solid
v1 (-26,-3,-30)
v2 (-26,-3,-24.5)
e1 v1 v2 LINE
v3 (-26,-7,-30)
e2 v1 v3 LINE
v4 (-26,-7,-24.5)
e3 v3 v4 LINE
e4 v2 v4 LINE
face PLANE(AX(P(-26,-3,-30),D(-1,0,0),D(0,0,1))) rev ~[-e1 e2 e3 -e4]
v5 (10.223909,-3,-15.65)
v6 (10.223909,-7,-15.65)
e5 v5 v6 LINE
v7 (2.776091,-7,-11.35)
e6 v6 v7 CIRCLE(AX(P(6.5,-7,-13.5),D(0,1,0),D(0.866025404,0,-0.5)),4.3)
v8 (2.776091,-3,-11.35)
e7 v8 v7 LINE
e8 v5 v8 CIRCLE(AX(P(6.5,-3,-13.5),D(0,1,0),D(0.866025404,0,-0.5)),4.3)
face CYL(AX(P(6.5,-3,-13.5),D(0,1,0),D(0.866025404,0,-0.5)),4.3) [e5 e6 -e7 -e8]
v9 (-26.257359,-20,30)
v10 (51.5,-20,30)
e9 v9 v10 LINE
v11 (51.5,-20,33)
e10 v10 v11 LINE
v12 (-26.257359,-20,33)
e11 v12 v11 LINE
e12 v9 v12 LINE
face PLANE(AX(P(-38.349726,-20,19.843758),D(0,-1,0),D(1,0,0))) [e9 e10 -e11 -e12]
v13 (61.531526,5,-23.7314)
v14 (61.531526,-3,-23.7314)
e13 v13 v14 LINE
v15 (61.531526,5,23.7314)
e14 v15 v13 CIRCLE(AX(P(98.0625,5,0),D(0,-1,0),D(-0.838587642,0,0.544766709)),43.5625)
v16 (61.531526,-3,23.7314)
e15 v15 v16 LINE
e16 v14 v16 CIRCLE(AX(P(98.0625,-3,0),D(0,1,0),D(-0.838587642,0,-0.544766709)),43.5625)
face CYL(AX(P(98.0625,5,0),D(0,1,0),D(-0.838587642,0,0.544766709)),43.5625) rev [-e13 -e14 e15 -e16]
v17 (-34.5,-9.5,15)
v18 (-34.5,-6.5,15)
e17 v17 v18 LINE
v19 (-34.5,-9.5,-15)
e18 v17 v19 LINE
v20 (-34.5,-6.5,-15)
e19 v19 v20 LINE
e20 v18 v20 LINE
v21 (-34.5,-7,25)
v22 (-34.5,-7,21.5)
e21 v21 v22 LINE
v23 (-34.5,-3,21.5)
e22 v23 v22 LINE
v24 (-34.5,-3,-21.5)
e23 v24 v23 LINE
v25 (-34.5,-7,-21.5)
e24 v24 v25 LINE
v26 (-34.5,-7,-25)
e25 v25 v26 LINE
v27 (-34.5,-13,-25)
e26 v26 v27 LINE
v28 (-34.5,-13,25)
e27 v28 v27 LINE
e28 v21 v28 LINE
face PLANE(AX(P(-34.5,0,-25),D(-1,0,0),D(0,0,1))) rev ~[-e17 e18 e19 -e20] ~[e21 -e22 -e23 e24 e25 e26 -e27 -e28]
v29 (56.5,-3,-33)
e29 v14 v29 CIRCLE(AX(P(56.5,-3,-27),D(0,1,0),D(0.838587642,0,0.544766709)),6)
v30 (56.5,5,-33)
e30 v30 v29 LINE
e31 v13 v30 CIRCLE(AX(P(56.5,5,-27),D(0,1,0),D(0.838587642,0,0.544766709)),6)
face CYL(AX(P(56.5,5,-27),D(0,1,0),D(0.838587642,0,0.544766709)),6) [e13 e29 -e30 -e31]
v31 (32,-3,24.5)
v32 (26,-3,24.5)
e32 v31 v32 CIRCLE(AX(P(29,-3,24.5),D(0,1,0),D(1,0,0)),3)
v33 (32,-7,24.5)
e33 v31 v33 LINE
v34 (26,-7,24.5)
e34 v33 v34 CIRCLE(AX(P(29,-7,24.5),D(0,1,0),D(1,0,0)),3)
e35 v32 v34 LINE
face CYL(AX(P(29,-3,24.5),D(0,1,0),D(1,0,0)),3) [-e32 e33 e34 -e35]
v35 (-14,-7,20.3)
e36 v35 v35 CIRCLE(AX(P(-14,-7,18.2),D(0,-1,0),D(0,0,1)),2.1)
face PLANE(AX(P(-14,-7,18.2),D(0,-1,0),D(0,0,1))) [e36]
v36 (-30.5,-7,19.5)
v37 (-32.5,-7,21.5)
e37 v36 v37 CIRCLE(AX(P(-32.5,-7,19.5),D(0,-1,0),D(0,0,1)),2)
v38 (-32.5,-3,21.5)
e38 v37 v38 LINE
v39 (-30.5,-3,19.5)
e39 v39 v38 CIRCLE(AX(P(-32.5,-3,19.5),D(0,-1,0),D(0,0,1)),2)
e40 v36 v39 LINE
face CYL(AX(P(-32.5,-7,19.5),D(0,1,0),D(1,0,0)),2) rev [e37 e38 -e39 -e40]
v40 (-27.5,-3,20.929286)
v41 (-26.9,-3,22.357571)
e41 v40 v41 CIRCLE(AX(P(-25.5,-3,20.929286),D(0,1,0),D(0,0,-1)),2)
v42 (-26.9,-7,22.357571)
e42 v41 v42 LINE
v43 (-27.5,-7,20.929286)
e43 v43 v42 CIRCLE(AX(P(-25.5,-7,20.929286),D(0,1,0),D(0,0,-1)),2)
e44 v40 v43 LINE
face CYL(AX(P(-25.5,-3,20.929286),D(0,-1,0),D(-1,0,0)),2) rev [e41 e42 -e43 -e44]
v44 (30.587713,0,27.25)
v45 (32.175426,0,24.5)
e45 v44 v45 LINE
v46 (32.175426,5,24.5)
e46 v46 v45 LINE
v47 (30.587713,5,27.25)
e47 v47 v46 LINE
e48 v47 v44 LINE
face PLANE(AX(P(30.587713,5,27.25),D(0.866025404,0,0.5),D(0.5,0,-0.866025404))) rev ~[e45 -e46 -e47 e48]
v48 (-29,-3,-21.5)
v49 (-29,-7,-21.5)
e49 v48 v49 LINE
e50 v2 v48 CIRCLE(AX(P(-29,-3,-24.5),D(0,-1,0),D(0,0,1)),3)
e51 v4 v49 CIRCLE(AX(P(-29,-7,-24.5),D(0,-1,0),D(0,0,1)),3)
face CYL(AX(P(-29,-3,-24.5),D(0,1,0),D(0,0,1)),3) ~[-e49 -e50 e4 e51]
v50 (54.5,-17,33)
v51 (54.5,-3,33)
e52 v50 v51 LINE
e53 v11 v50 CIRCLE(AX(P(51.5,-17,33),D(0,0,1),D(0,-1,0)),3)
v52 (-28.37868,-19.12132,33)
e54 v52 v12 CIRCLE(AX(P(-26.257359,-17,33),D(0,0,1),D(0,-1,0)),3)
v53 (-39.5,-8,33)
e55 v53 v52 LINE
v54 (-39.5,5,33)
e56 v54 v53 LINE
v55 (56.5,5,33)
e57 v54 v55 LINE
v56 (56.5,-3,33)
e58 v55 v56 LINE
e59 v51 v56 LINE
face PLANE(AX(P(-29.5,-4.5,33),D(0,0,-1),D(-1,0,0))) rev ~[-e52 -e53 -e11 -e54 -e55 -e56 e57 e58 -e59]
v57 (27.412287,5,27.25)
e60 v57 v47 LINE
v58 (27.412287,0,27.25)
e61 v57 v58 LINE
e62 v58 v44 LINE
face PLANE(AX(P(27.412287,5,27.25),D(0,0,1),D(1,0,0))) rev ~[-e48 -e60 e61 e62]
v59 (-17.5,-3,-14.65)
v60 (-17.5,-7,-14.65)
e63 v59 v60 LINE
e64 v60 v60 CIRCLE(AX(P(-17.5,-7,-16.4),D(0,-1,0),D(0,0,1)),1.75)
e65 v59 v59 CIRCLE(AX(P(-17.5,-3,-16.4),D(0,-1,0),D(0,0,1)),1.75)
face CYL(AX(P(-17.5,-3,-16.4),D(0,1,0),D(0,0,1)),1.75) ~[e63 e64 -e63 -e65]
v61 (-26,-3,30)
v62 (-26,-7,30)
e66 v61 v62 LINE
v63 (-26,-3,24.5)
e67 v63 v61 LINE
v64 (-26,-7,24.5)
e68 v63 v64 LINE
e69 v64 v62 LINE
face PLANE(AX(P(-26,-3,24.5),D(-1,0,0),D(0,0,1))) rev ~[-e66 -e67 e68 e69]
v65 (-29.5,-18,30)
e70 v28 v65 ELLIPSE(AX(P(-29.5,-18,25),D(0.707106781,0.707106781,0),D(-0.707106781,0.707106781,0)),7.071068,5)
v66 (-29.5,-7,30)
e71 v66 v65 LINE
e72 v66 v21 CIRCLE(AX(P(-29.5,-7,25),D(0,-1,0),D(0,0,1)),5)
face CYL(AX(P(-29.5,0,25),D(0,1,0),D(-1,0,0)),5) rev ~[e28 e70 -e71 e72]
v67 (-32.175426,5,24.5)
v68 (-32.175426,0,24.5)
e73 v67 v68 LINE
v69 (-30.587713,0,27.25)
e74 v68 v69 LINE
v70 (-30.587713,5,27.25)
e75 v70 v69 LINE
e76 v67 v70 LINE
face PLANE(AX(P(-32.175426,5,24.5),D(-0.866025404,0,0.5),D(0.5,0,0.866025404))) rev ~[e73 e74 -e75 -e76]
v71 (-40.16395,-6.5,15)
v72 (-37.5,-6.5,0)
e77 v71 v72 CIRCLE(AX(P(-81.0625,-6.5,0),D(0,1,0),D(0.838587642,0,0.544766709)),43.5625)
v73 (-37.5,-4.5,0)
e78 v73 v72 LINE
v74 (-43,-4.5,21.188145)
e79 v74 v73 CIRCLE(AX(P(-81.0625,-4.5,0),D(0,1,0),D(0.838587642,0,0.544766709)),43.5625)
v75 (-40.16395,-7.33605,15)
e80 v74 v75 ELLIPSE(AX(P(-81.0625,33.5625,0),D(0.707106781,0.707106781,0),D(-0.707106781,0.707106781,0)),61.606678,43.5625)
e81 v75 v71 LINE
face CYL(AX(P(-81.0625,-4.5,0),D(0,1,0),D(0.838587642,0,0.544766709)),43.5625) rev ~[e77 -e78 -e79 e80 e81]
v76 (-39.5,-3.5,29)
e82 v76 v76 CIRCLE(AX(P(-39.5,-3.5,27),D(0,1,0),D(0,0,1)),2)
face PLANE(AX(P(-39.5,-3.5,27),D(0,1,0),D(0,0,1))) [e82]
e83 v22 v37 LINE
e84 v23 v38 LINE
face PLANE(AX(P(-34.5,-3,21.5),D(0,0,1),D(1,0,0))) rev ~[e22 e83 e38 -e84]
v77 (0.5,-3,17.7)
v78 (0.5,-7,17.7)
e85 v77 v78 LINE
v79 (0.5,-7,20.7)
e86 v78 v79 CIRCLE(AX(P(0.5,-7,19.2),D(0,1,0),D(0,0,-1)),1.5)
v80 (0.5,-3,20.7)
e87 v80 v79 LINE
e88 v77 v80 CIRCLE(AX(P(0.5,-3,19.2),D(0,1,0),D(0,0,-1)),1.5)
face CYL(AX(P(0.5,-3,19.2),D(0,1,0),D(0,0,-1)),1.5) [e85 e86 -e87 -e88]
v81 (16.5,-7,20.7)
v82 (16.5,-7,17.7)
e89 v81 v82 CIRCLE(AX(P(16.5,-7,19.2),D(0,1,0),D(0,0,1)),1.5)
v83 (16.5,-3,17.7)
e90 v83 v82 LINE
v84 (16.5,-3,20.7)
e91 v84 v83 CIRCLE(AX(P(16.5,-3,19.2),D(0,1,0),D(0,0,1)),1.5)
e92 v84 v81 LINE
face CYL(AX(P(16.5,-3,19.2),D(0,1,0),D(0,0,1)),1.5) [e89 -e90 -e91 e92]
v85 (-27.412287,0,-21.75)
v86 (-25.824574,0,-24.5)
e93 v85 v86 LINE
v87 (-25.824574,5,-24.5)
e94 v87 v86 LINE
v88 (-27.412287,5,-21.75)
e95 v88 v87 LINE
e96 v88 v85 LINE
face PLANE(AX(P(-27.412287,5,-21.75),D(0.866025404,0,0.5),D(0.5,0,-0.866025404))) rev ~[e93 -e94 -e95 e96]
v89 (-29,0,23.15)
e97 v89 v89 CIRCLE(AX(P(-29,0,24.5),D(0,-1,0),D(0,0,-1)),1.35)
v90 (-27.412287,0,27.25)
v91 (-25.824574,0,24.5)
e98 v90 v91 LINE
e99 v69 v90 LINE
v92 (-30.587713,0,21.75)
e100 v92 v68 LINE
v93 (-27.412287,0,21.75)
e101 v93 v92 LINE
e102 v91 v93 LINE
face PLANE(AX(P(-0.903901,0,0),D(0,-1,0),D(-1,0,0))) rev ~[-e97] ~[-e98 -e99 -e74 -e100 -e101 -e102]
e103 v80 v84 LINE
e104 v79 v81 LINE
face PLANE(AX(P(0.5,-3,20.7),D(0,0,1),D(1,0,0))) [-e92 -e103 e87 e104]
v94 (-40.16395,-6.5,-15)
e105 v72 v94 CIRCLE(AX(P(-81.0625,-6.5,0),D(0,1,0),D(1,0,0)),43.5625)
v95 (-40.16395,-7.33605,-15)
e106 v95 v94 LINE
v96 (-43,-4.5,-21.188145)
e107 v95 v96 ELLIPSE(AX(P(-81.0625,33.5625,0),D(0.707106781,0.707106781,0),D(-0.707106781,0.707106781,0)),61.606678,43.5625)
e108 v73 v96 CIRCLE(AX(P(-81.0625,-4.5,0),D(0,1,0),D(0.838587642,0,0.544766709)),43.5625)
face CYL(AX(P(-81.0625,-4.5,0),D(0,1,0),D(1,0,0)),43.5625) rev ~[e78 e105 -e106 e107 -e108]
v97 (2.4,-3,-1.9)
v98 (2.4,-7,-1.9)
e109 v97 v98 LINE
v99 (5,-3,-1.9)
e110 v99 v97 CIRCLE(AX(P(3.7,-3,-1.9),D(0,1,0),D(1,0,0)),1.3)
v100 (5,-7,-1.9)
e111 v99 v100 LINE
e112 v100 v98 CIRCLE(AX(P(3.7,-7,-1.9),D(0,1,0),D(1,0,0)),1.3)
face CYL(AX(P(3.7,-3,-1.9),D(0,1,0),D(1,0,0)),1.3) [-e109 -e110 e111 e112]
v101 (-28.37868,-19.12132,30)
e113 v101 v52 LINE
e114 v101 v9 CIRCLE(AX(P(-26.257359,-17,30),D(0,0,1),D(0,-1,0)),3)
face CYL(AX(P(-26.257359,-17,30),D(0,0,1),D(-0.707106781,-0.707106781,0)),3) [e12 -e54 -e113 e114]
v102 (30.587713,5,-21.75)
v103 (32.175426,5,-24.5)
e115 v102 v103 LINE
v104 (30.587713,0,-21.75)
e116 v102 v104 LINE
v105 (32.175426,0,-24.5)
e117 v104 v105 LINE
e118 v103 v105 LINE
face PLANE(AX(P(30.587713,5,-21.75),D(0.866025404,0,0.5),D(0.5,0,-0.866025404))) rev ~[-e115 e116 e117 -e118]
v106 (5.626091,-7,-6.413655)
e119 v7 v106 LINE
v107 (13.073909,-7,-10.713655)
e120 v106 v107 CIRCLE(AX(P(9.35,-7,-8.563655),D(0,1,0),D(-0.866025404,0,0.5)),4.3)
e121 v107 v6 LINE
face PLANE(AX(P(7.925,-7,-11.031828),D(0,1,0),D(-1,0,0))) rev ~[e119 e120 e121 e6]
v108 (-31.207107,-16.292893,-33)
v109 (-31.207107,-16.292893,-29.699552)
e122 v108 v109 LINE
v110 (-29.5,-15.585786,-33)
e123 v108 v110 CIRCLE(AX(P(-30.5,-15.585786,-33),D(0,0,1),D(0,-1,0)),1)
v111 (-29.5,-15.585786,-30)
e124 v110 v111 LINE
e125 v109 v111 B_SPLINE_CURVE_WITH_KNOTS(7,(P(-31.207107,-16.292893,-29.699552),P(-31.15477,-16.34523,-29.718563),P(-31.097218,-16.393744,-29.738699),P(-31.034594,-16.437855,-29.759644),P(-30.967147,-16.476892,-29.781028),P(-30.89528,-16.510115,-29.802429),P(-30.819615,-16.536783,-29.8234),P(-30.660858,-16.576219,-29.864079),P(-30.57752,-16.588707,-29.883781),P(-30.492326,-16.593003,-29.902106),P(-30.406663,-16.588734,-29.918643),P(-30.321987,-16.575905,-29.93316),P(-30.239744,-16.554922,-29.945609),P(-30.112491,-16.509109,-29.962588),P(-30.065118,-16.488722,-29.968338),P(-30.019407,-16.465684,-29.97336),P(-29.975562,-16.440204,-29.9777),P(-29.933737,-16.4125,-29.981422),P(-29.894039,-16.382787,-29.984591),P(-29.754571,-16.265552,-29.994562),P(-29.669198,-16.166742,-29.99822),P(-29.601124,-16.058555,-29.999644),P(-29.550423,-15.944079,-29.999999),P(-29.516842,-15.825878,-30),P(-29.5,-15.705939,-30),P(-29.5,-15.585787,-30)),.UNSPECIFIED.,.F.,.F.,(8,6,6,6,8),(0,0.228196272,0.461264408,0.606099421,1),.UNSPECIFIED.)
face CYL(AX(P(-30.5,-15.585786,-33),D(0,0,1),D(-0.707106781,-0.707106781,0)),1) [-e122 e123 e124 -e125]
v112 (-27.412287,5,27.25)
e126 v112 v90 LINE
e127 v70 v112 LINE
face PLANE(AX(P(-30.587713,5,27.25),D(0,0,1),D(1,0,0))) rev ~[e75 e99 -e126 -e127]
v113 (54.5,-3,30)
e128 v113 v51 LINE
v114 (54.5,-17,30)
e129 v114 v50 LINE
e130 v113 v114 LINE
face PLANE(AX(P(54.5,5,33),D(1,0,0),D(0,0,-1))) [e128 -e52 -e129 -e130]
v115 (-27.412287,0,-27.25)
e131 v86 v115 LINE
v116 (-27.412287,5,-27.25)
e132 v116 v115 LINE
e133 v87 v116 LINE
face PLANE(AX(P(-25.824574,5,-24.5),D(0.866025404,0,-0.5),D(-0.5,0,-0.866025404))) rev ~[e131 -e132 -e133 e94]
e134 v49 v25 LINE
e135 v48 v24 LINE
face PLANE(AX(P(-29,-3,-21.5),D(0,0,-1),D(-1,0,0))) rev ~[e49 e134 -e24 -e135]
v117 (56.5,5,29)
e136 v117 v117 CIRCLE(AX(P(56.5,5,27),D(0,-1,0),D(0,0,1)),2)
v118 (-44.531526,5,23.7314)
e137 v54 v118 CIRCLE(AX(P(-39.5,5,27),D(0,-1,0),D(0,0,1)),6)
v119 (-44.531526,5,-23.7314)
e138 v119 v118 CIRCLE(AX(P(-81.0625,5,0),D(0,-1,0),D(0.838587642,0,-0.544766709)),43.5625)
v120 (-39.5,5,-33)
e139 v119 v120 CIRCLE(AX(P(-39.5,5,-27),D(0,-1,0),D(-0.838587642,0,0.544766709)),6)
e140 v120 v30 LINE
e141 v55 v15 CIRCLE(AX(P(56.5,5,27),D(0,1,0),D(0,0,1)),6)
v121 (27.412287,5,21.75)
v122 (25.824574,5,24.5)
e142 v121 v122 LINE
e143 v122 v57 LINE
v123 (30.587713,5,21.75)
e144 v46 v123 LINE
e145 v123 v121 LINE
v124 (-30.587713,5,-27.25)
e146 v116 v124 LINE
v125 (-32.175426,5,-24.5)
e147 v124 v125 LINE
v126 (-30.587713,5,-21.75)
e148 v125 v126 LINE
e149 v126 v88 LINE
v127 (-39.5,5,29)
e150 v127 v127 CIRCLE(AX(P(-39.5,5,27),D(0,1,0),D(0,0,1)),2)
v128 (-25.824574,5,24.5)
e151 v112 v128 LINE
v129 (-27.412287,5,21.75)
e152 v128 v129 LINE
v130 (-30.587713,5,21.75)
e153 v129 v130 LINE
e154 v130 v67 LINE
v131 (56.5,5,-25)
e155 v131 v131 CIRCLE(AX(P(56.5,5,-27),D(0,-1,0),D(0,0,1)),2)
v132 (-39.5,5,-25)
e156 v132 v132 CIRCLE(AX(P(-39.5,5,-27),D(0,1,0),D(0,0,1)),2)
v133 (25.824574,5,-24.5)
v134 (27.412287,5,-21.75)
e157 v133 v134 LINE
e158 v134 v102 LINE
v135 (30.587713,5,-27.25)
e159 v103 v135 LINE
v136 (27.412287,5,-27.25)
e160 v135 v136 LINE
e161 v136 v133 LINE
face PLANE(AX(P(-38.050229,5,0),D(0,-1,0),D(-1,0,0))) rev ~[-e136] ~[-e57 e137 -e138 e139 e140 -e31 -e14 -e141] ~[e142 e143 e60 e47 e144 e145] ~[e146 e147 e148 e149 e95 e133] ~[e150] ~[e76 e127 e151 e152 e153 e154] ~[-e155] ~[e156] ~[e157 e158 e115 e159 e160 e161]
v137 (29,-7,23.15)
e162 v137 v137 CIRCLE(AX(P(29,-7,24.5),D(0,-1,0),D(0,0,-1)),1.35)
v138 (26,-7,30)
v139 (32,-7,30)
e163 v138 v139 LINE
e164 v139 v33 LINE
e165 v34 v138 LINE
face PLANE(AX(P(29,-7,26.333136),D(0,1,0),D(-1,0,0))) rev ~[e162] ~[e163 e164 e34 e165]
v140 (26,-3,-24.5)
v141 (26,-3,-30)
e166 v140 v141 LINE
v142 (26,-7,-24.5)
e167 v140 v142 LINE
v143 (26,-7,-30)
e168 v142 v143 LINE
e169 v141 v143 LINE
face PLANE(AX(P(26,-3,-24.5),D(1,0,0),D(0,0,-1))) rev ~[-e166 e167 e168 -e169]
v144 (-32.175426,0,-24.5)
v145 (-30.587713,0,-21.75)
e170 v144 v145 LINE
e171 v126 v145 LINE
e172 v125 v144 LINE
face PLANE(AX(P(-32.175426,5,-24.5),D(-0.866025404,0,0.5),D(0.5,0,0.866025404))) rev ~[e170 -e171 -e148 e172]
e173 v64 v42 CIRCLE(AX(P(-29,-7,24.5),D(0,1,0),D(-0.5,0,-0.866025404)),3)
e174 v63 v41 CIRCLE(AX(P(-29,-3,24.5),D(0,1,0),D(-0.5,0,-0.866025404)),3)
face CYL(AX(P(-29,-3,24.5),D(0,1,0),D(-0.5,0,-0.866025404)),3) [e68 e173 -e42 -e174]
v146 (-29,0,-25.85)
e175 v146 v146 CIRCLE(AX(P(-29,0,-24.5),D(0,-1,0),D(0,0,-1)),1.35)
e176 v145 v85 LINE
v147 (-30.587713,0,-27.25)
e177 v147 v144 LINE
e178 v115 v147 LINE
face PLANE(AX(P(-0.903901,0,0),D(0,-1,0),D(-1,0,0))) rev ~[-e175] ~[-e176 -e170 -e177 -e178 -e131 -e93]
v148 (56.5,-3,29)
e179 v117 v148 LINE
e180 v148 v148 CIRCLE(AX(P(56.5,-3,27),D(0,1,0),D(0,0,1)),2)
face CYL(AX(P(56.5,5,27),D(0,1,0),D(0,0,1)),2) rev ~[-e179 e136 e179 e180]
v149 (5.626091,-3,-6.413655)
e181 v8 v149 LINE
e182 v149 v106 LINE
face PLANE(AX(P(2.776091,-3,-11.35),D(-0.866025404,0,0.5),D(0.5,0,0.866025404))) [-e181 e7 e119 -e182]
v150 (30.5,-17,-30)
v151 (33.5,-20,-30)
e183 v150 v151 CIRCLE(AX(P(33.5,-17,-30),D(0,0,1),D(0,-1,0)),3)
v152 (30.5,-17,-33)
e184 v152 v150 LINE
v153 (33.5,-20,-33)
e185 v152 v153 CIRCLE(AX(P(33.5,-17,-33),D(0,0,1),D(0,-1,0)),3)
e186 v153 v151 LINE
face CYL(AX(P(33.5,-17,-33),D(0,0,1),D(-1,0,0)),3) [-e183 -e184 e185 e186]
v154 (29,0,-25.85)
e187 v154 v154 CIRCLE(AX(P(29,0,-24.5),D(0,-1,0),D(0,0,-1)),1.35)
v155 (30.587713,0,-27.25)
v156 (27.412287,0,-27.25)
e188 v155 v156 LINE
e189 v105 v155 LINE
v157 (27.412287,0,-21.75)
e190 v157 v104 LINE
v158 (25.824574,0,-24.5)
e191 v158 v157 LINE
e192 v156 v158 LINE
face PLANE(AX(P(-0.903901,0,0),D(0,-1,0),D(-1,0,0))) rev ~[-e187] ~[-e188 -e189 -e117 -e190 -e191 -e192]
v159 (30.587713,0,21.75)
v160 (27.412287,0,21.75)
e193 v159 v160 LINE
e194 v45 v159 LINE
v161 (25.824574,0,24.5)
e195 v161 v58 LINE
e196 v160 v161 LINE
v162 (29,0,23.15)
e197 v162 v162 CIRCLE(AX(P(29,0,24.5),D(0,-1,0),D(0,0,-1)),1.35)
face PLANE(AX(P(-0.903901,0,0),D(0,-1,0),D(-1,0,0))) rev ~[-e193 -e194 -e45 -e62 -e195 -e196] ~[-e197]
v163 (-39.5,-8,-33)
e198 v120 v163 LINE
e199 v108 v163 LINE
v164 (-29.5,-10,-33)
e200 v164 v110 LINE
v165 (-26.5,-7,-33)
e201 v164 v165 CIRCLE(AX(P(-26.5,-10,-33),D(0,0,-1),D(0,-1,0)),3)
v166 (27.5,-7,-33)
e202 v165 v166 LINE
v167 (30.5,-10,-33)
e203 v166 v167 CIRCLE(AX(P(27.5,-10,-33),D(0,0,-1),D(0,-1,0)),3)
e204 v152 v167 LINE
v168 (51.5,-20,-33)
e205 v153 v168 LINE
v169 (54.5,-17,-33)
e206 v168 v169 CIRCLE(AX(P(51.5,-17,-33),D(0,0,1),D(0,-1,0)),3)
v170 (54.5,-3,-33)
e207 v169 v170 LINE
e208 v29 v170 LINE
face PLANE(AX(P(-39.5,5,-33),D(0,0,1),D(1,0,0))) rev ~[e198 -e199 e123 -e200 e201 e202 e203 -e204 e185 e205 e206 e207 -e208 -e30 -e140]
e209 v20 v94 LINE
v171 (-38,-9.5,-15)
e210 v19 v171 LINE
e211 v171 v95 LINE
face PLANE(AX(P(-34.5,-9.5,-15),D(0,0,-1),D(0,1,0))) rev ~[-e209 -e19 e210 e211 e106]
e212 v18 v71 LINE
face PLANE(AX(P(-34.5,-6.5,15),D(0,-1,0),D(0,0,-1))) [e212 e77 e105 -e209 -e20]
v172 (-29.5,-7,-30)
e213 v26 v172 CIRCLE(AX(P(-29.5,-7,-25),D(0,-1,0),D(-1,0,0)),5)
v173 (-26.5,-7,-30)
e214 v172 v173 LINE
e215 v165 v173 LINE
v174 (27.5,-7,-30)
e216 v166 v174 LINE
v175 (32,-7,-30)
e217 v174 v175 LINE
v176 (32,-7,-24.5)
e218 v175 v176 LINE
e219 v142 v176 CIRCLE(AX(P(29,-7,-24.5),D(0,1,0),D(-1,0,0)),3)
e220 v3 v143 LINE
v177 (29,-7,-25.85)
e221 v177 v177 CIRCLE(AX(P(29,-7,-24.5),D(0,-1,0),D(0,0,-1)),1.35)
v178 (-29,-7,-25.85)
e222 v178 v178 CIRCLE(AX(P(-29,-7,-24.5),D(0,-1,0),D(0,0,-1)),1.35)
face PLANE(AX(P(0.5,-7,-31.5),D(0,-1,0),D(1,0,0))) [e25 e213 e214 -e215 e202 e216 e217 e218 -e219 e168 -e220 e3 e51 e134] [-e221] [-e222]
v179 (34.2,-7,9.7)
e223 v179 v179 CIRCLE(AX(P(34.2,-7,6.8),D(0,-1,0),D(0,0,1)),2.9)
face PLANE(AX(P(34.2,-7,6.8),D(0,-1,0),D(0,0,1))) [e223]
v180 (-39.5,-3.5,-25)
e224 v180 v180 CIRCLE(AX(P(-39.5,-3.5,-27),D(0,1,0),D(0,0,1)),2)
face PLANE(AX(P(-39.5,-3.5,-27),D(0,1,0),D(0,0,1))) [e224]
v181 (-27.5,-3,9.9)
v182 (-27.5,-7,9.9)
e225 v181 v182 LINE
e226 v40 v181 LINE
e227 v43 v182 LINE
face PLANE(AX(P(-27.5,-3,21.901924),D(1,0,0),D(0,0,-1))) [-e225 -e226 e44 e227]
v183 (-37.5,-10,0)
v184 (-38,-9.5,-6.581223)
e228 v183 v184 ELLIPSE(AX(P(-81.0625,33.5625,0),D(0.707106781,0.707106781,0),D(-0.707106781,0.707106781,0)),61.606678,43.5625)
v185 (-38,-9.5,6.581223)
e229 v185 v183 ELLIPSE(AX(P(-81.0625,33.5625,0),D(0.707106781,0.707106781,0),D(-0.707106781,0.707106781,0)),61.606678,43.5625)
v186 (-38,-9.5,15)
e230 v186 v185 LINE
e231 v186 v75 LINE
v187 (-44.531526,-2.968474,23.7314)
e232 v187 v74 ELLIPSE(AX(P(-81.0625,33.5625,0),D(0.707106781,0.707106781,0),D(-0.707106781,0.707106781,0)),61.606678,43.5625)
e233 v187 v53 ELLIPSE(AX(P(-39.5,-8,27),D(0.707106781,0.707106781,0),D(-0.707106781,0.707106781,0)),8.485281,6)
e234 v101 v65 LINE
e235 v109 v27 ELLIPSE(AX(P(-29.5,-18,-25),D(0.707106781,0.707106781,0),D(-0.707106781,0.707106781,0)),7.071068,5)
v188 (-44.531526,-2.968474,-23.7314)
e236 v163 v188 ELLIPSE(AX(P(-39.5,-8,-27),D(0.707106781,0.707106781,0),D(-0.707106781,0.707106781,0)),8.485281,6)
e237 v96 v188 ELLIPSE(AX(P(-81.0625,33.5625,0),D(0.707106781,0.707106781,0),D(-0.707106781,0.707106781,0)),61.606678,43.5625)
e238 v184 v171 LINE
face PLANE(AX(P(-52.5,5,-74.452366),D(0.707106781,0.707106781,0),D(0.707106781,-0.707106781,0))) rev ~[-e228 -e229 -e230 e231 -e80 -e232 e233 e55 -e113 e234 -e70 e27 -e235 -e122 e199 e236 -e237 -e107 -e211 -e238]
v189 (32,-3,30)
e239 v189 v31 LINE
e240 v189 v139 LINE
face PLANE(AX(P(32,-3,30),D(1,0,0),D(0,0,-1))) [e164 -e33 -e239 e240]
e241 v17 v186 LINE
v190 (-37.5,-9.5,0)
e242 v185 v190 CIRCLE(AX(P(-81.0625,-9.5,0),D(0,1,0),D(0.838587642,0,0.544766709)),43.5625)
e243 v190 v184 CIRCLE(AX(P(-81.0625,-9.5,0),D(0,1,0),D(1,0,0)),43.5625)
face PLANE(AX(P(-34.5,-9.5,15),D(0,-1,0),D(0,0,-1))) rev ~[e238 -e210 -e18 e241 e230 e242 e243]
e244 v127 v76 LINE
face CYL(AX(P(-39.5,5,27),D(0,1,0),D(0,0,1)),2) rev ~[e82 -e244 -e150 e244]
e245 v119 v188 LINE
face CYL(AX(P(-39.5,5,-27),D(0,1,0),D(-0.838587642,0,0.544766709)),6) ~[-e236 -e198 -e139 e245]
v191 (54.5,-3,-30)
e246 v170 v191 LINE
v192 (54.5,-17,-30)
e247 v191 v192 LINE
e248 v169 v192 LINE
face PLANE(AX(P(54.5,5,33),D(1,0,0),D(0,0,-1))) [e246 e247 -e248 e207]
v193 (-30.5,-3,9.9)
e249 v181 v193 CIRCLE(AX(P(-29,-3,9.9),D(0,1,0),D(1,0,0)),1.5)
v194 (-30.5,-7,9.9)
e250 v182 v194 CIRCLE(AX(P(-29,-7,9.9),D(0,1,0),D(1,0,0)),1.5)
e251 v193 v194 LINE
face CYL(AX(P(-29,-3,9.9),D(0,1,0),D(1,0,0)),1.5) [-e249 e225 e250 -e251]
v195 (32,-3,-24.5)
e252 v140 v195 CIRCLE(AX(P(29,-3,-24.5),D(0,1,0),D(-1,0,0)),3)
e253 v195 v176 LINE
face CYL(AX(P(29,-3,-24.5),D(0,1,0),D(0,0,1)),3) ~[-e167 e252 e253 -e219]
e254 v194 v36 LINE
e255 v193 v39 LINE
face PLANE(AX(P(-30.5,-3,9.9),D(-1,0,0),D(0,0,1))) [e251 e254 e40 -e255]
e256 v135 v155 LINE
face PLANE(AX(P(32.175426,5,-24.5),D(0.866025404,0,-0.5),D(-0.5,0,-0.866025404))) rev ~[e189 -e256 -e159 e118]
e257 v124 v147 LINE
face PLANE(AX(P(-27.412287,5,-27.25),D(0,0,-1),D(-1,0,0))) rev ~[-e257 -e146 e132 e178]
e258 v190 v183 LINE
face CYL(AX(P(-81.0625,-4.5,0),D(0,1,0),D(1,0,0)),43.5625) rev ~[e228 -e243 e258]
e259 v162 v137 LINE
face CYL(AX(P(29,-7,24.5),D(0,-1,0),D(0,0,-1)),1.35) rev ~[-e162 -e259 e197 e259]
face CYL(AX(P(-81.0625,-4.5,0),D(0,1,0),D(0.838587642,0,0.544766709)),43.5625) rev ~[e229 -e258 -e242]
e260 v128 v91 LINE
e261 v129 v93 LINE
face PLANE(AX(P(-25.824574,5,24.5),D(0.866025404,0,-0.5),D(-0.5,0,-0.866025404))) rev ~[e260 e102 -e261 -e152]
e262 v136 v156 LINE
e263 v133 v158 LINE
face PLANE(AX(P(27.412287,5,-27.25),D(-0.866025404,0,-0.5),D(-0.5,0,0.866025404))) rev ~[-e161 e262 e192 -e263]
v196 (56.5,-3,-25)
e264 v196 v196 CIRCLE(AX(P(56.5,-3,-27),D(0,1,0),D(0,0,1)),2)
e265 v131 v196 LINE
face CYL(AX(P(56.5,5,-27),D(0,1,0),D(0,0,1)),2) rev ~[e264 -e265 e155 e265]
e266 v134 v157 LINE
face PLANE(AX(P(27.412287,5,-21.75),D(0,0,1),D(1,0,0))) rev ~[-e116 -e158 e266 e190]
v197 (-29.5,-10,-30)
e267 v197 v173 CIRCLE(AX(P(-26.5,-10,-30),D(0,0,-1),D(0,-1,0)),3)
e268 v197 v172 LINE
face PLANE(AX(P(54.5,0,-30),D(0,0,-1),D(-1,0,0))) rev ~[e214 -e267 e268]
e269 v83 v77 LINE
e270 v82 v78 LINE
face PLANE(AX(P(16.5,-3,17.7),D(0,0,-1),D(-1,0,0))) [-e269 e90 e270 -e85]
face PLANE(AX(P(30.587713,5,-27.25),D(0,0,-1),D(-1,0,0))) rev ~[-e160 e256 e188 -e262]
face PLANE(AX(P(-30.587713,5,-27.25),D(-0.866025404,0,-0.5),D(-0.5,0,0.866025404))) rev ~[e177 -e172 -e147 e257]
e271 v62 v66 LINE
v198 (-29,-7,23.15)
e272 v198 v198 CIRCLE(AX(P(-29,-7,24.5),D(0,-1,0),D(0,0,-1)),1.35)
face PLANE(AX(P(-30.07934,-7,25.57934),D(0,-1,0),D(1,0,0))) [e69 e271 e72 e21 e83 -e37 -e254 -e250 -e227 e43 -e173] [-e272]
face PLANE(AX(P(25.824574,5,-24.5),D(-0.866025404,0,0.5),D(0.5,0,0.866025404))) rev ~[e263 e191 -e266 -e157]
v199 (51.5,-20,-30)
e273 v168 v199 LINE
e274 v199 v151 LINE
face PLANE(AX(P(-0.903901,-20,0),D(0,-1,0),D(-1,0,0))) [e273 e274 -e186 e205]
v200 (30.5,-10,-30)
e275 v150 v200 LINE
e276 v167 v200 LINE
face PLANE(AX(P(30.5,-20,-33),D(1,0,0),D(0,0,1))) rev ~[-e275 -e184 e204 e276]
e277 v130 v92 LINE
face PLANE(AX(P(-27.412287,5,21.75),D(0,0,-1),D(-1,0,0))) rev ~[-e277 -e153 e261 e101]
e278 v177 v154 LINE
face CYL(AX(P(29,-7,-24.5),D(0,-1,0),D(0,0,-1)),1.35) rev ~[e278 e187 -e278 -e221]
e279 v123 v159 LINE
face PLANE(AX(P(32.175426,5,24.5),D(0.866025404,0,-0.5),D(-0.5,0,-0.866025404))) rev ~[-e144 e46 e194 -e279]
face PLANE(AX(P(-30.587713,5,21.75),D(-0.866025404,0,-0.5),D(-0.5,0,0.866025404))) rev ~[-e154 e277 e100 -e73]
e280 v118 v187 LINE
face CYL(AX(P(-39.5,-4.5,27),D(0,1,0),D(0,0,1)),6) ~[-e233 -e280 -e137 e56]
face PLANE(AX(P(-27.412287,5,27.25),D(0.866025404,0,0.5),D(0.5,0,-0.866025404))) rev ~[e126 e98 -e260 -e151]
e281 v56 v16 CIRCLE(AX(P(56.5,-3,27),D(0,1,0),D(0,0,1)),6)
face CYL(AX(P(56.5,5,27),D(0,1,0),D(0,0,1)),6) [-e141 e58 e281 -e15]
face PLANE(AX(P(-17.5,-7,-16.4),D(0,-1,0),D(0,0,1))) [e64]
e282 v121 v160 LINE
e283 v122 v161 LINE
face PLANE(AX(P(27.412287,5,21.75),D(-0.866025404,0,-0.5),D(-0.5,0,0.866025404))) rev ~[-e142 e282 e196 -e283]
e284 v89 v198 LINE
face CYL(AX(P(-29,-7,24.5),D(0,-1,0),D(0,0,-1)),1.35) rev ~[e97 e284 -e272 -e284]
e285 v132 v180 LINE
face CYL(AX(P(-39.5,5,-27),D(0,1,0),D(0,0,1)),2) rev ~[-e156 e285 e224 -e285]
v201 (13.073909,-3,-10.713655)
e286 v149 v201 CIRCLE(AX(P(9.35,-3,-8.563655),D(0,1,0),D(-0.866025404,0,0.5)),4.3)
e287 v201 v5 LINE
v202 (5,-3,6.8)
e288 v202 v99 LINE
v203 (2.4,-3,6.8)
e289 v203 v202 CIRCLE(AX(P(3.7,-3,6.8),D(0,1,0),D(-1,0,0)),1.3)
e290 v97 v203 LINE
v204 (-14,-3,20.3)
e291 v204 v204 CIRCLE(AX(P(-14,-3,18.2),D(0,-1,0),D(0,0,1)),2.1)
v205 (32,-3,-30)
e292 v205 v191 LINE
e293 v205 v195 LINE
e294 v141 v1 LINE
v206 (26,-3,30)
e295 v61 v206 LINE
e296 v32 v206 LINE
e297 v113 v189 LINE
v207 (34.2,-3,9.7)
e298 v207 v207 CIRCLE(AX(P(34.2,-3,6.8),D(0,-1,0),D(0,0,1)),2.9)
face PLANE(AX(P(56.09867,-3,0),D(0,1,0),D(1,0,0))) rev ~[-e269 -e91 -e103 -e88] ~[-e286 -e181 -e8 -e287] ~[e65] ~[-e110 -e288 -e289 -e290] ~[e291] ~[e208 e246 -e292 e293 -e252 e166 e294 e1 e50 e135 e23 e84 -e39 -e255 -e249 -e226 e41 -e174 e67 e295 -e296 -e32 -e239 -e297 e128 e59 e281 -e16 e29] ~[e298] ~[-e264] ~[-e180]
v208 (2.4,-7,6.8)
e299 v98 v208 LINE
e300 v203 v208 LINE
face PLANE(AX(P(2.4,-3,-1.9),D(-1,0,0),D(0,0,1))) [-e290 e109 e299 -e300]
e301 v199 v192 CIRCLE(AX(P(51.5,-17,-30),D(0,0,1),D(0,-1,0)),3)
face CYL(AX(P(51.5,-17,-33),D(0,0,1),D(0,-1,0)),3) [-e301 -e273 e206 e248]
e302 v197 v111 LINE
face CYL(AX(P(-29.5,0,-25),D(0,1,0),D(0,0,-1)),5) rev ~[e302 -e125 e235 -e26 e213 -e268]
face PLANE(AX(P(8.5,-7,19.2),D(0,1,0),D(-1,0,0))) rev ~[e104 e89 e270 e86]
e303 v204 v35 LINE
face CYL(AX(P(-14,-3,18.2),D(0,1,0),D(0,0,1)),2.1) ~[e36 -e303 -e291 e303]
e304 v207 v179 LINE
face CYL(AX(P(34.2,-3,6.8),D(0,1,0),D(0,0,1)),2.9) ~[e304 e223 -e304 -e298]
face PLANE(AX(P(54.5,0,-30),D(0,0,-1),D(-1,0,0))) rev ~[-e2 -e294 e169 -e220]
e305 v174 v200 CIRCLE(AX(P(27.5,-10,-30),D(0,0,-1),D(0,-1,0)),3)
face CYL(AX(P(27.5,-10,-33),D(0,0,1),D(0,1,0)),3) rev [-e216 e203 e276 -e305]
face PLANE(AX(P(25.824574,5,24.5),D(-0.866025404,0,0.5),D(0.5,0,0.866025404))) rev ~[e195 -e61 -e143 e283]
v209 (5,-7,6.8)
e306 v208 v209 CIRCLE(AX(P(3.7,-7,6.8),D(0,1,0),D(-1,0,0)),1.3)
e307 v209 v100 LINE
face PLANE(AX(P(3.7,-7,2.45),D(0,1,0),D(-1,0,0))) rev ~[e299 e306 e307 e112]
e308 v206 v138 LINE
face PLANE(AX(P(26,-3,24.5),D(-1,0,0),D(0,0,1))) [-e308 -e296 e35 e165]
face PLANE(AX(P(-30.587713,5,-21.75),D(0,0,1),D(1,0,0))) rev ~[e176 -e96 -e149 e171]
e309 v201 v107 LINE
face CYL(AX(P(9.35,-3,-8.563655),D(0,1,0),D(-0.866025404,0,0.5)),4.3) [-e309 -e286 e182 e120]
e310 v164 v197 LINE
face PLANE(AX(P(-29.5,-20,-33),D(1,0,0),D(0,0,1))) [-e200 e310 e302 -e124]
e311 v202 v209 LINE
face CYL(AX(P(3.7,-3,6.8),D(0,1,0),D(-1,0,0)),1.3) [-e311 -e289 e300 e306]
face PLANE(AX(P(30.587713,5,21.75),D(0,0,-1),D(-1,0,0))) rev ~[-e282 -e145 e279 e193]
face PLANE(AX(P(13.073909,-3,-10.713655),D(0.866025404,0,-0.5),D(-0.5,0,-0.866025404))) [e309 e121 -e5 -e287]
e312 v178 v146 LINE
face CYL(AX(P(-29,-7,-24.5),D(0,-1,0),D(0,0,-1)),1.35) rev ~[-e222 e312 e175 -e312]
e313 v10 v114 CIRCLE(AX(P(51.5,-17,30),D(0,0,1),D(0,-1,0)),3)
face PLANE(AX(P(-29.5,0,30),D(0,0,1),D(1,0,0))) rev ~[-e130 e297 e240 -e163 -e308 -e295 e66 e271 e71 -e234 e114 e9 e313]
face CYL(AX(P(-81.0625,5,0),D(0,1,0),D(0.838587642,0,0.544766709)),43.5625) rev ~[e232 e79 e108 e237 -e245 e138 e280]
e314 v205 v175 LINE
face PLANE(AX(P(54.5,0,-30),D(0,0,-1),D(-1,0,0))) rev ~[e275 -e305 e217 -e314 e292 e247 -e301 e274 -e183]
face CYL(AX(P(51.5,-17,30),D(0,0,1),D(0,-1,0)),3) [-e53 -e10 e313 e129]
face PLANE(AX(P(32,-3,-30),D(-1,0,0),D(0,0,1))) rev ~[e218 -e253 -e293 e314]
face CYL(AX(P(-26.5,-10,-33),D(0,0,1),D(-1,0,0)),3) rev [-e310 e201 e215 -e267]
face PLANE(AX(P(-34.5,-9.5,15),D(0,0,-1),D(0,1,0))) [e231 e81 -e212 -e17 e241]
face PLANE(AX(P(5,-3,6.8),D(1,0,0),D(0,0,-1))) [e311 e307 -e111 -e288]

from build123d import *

# Parameters (mm, degrees)
BOSS_EXTRUDE2_DEPTH     = 3
BOSS_EXTRUDE3_DEPTH     = 20
SKETCH7_R               = 3
SKETCH7_R_2             = 1.75
SKETCH7_R_3             = 2.9
SKETCH7_R_4             = 2.1
BOSS_EXTRUDE4_DEPTH     = 4
SKETCH8_R               = 1.35
CUT_EXTRUDE1_DEPTH      = 66.024995194
SKETCH10_W              = 60
SKETCH10_H              = 3
CUT_EXTRUDE2_DEPTH      = 13
FILLET1_R               = 3
SKETCH11_R              = 1.35
BOSS_EXTRUDE5_DEPTH     = 4
FILLET2_R               = 2
BOSS_EXTRUDE6_START     = 5
BOSS_EXTRUDE6_DEPTH     = 5
SKETCH13_R              = 2
BOSS_EXTRUDE7_DEPTH     = 9.5
SKETCH15_R              = 2
BOSS_EXTRUDE9_DEPTH     = 8
BOSS_EXTRUDE11_DEPTH    = 15.5
CUT_EXTRUDE3_DEPTH      = 74.452365517
CUT_EXTRUDE3_DEPTH_BACK = 74.452365517
FILLET4_R               = 1
FILLET5_R               = 3
BOSS_EXTRUDE12_START    = 1
SKETCH22_R              = 2
BOSS_EXTRUDE12_DEPTH    = 1
SKETCH23_W              = 30
SKETCH23_H              = 3
CUT_EXTRUDE6_DEPTH      = 105.393486418


with BuildPart() as part:
    # Sketch4 → Boss-Extrude2 (new body)
    with BuildSketch(Plane(origin=(0, 0, 0), x_dir=(1, 0, 0), z_dir=(0, 1, 0))):
        with BuildLine():
            Line((49.5, 30), (-29.5, 30))
            ThreePointArc((-29.5, 30), (-33.035533906, 28.535533906), (-34.5, 25))
            Line((-34.5, 25), (-34.5, -25))
            ThreePointArc((-34.5, -25), (-33.035533906, -28.535533906), (-29.5, -30))
            Line((-29.5, -30), (49.5, -30))
            Line((49.5, -30), (54.5, -30))
            Line((54.5, -30), (54.5, -25))
            Line((54.5, -25), (54.5, 25))
            Line((54.5, 25), (54.5, 30))
            Line((54.5, 30), (49.5, 30))
        make_face()
    extrude(amount=-BOSS_EXTRUDE2_DEPTH)

    # Sketch5 → Boss-Extrude3 (add)
    with BuildSketch(Plane(origin=(0, 0, 0), x_dir=(1, 0, 0), z_dir=(0, 1, 0))):
        with BuildLine():
            Line((-29.5, -30), (54.5, -30))
            Line((54.5, -30), (54.5, -33))
            Line((54.5, -33), (-29.5, -33))
            ThreePointArc((-29.5, -33), (-35.156854249, -30.656854249), (-37.5, -25))
            Line((-37.5, -25), (-37.5, 25))
            ThreePointArc((-37.5, 25), (-35.156854249, 30.656854249), (-29.5, 33))
            Line((-29.5, 33), (54.5, 33))
            Line((54.5, 33), (54.5, 30))
            Line((54.5, 30), (-29.5, 30))
            ThreePointArc((-29.5, 30), (-33.035533906, 28.535533906), (-34.5, 25))
            Line((-34.5, 25), (-34.5, -25))
            ThreePointArc((-34.5, -25), (-33.035533906, -28.535533906), (-29.5, -30))
        make_face()
    extrude(amount=-BOSS_EXTRUDE3_DEPTH)

    # Sketch7 → Boss-Extrude4 (add)
    with BuildSketch(Plane.XZ.offset(3)):
        with Locations(Location((-29, -24.5, 0), (0, 0, 90))):
            Circle(SKETCH7_R)
        with Locations(Location((-17.5, -16.4, 0), (0, 0, 90))):
            Circle(SKETCH7_R_2)
        with Locations(Location((29, -24.5, 0), (0, 0, 90))):
            Circle(SKETCH7_R)
        with Locations(Location((34.2, 6.8, 0), (0, 0, 90))):
            Circle(SKETCH7_R_3)
        with Locations(Location((29, 24.5, 0), (0, 0, 90))):
            Circle(SKETCH7_R)
        with Locations(Location((-14, 18.2, 0), (0, 0, 90))):
            Circle(SKETCH7_R_4)
        with BuildLine():
            Line((13.073909236, -10.713655198), (10.223909236, -15.65))
            ThreePointArc((10.223909236, -15.65), (4.35, -17.223909236), (2.776090764, -11.35))
            Line((2.776090764, -11.35), (5.626090764, -6.413655198))
            ThreePointArc((5.626090764, -6.413655198), (11.5, -4.839745962), (13.073909236, -10.713655198))
        make_face()
        with BuildLine():
            Line((5, 6.8), (5, -1.9))
            ThreePointArc((5, -1.9), (3.7, -3.2), (2.4, -1.9))
            Line((2.4, -1.9), (2.4, 6.8))
            ThreePointArc((2.4, 6.8), (3.7, 8.1), (5, 6.8))
        make_face()
        with BuildLine():
            Line((0.5, 20.7), (16.5, 20.7))
            ThreePointArc((16.5, 20.7), (18, 19.2), (16.5, 17.7))
            Line((16.5, 17.7), (0.5, 17.7))
            ThreePointArc((0.5, 17.7), (-1, 19.2), (0.5, 20.7))
        make_face()
        with BuildLine():
            Line((-30.5, 9.9), (-30.5, 21.901923789))
            ThreePointArc((-30.5, 21.901923789), (-29, 27.5), (-27.5, 21.901923789))
            Line((-27.5, 21.901923789), (-27.5, 9.9))
            ThreePointArc((-27.5, 9.9), (-29, 8.4), (-30.5, 9.9))
        make_face()
    extrude(amount=BOSS_EXTRUDE4_DEPTH)

    # Sketch8 → Cut-Extrude1 (cut, through all)
    with BuildSketch(Plane.XZ.offset(7)):
        with Locations(Location((-29, -24.5, 0), (0, 0, 270))):
            Circle(SKETCH8_R)
        with Locations(Location((29, -24.5, 0), (0, 0, 270))):
            Circle(SKETCH8_R)
        with Locations(Location((29, 24.5, 0), (0, 0, 270))):
            Circle(SKETCH8_R)
        with Locations(Location((-29, 24.5, 0), (0, 0, 270))):
            Circle(SKETCH8_R)
    extrude(amount=-CUT_EXTRUDE1_DEPTH, mode=Mode.SUBTRACT)

    # Sketch10 → Cut-Extrude2 (cut)
    with BuildSketch(Plane.XZ.offset(20)):
        with Locations((0.5, -31.5)):
            Rectangle(SKETCH10_W, SKETCH10_H)
    extrude(amount=-CUT_EXTRUDE2_DEPTH, mode=Mode.SUBTRACT)

    # Fillet1
    fillet1_edges = [part.edges().sort_by_distance(p)[0] for p in [
        (-29.5, -7, -31.5),
        (30.5, -7, -31.5),
    ]]
    fillet(fillet1_edges, radius=FILLET1_R)

    # Sketch11 → Boss-Extrude5 (add)
    # profile 1 of 4: a face of its own
    with BuildSketch(Plane.XZ.offset(3)):
        with BuildLine():
            Line((-26, 24.5), (-26, 30))
            Line((-26, 30), (-29.5, 30))
            ThreePointArc((-29.5, 30), (-33.035533906, 28.535533906), (-34.5, 25))
            Line((-34.5, 25), (-34.5, 21.5))
            Line((-34.5, 21.5), (-29, 21.5))
            ThreePointArc((-29, 21.5), (-26.878679656, 22.378679656), (-26, 24.5))
        make_face()
        with Locations(Location((-29, 24.5, 0), (0, 0, 270))):
            Circle(SKETCH11_R, mode=Mode.SUBTRACT)
    # profile 2 of 4: a face of its own
    with BuildSketch(Plane.XZ.offset(3)):
        with BuildLine():
            Line((26, 24.5), (26, 30))
            Line((26, 30), (32, 30))
            Line((32, 30), (32, 24.5))
            ThreePointArc((32, 24.5), (29, 21.5), (26, 24.5))
        make_face()
        with Locations(Location((29, 24.5, 0), (0, 0, 270))):
            Circle(SKETCH11_R, mode=Mode.SUBTRACT)
    # profile 3 of 4: a face of its own
    with BuildSketch(Plane.XZ.offset(3)):
        with BuildLine():
            Line((-29, -21.5), (-34.5, -21.5))
            Line((-34.5, -21.5), (-34.5, -25))
            ThreePointArc((-34.5, -25), (-33.035533906, -28.535533906), (-29.5, -30))
            Line((-29.5, -30), (-26, -30))
            Line((-26, -30), (-26, -24.5))
            ThreePointArc((-26, -24.5), (-26.878679656, -22.378679656), (-29, -21.5))
        make_face()
        with Locations(Location((-29, -24.5, 0), (0, 0, 270))):
            Circle(SKETCH11_R, mode=Mode.SUBTRACT)
    # profile 4 of 4: a face of its own
    with BuildSketch(Plane.XZ.offset(3)):
        with BuildLine():
            Line((26, -24.5), (26, -30))
            Line((26, -30), (32, -30))
            Line((32, -30), (32, -24.5))
            ThreePointArc((32, -24.5), (29, -21.5), (26, -24.5))
        make_face()
        with Locations(Location((29, -24.5, 0), (0, 0, 270))):
            Circle(SKETCH11_R, mode=Mode.SUBTRACT)
    extrude(amount=BOSS_EXTRUDE5_DEPTH)

    # Fillet2
    fillet2_edges = [part.edges().sort_by_distance(p)[0] for p in [
        (-27.5, -5, 21.901923789),
        (-30.5, -5, 21.5),
    ]]
    fillet(fillet2_edges, radius=FILLET2_R)

    # Sketch12 → Boss-Extrude6 (add)
    with BuildSketch(Plane(origin=(0, 0, 0), x_dir=(1, 0, 0), z_dir=(0, 1, 0)).offset(BOSS_EXTRUDE6_START)):
        with BuildLine():
            Line((-29.5, -33), (54.5, -33))
            Line((54.5, -33), (54.5, 33))
            Line((54.5, 33), (-29.5, 33))
            ThreePointArc((-29.5, 33), (-35.156854249, 30.656854249), (-37.5, 25))
            Line((-37.5, 25), (-37.5, -25))
            ThreePointArc((-37.5, -25), (-35.156854249, -30.656854249), (-29.5, -33))
        make_face()
        Polygon((-25.824573519, 24.5), (-27.41228676, 27.25), (-30.58771324, 27.25), (-32.175426481, 24.5), (-30.58771324, 21.75), (-27.41228676, 21.75), align=None, mode=Mode.SUBTRACT)
        Polygon((32.175426481, 24.5), (30.58771324, 27.25), (27.41228676, 27.25), (25.824573519, 24.5), (27.41228676, 21.75), (30.58771324, 21.75), align=None, mode=Mode.SUBTRACT)
        Polygon((32.175426481, -24.5), (30.58771324, -21.75), (27.41228676, -21.75), (25.824573519, -24.5), (27.41228676, -27.25), (30.58771324, -27.25), align=None, mode=Mode.SUBTRACT)
        Polygon((-25.824573519, -24.5), (-27.41228676, -21.75), (-30.58771324, -21.75), (-32.175426481, -24.5), (-30.58771324, -27.25), (-27.41228676, -27.25), align=None, mode=Mode.SUBTRACT)
    extrude(amount=-BOSS_EXTRUDE6_DEPTH)

    # Sketch13 → Boss-Extrude7 (add)
    with BuildSketch(Plane(origin=(0, 5, 0), x_dir=(1, 0, 0), z_dir=(0, 1, 0))):
        with BuildLine():
            Line((-39.5, 33), (-29.5, 33))
            Line((-29.5, 33), (-29.5, 32))
            ThreePointArc((-29.5, 32), (-34.449747468, 29.949747468), (-36.5, 25))
            Line((-36.5, 25), (-36.5, -25))
            ThreePointArc((-36.5, -25), (-34.449747468, -29.949747468), (-29.5, -32))
            Line((-29.5, -32), (-29.5, -33))
            Line((-29.5, -33), (-39.5, -33))
            ThreePointArc((-39.5, -33), (-44.77312059, -29.862551177), (-44.531525851, -23.731399748))
            ThreePointArc((-44.531525851, -23.731399748), (-37.5, 0), (-44.531525851, 23.731399748))
            ThreePointArc((-44.531525851, 23.731399748), (-44.77312059, 29.862551177), (-39.5, 33))
        make_face()
        with Locations(Location((-39.5, 27, 0), (0, 0, 270))):
            Circle(SKETCH13_R, mode=Mode.SUBTRACT)
        with Locations(Location((-39.5, -27, 0), (0, 0, 270))):
            Circle(SKETCH13_R, mode=Mode.SUBTRACT)
    extrude(amount=-BOSS_EXTRUDE7_DEPTH)

    # Sketch15 → Boss-Extrude9 (add)
    with BuildSketch(Plane(origin=(0, 5, 0), x_dir=(1, 0, 0), z_dir=(0, 1, 0))):
        with BuildLine():
            Line((53.5, 33), (53.5, -33))
            Line((53.5, -33), (56.5, -33))
            ThreePointArc((56.5, -33), (61.77312059, -29.862551177), (61.531525851, -23.731399748))
            ThreePointArc((61.531525851, -23.731399748), (54.5, 0), (61.531525851, 23.731399748))
            ThreePointArc((61.531525851, 23.731399748), (61.77312059, 29.862551177), (56.5, 33))
            Line((56.5, 33), (53.5, 33))
        make_face()
        with Locations(Location((56.5, 27, 0), (0, 0, 270))):
            Circle(SKETCH15_R, mode=Mode.SUBTRACT)
        with Locations(Location((56.5, -27, 0), (0, 0, 270))):
            Circle(SKETCH15_R, mode=Mode.SUBTRACT)
    extrude(amount=-BOSS_EXTRUDE9_DEPTH)

    # Sketch19 → Boss-Extrude11 (add)
    with BuildSketch(Plane.XZ.offset(4.5)):
        with BuildLine():
            ThreePointArc((-37.5, 25), (-35.156854249, 30.656854249), (-29.5, 33))
            Line((-29.5, 33), (-39.5, 33))
            ThreePointArc((-39.5, 33), (-44.77312059, 29.862551177), (-44.531525851, 23.731399748))
            ThreePointArc((-44.531525851, 23.731399748), (-39.294857215, 12.375597862), (-37.5, 0))
            Line((-37.5, 0), (-37.5, 25))
        make_face()
        with BuildLine():
            Line((-37.5, -25), (-37.5, 0))
            ThreePointArc((-37.5, 0), (-39.294857215, -12.375597862), (-44.531525851, -23.731399748))
            ThreePointArc((-44.531525851, -23.731399748), (-44.77312059, -29.862551177), (-39.5, -33))
            Line((-39.5, -33), (-29.5, -33))
            ThreePointArc((-29.5, -33), (-35.156854249, -30.656854249), (-37.5, -25))
        make_face()
    extrude(amount=BOSS_EXTRUDE11_DEPTH)

    # Sketch17 → Cut-Extrude3 (cut, two sides: drawn at the far end of the back side and taken through both)
    with BuildSketch(Plane.XY.offset(-CUT_EXTRUDE3_DEPTH_BACK)):
        Polygon((-52.5, 5), (-27.5, -20), (-52.5, -20), align=None)
    extrude(amount=CUT_EXTRUDE3_DEPTH + CUT_EXTRUDE3_DEPTH_BACK, mode=Mode.SUBTRACT)

    # Fillet4
    fillet4_edges = [part.edges().sort_by_distance(p)[0] for p in [
        (-29.5, -18, -31.5),
    ]]
    fillet(fillet4_edges, radius=FILLET4_R)

    # Fillet5
    fillet5_edges = [part.edges().sort_by_distance(p)[0] for p in [
        (30.5, -20, -31.5),
        (54.5, -20, 31.5),
        (54.5, -20, -31.5),
        (-27.5, -20, 31.5),
    ]]
    fillet(fillet5_edges, radius=FILLET5_R)

    # Sketch22 → Boss-Extrude12 (add)
    with BuildSketch(Plane(origin=(0, -4.5, 0), x_dir=(1, 0, 0), z_dir=(0, 1, 0)).offset(BOSS_EXTRUDE12_START)):
        with Locations(Location((-39.5, -27, 0), (0, 0, 270))):
            Circle(SKETCH22_R)
        with Locations(Location((-39.5, 27, 0), (0, 0, 270))):
            Circle(SKETCH22_R)
    extrude(amount=-BOSS_EXTRUDE12_DEPTH)

    # Sketch23 → Cut-Extrude6 (cut, through all)
    with BuildSketch(Plane(origin=(-34.5, 0, 0), x_dir=(0, 0, -1), z_dir=(1, 0, 0))):
        with Locations((0, -8)):
            Rectangle(SKETCH23_W, SKETCH23_H)
    extrude(amount=-CUT_EXTRUDE6_DEPTH, mode=Mode.SUBTRACT)


solid = part.part
